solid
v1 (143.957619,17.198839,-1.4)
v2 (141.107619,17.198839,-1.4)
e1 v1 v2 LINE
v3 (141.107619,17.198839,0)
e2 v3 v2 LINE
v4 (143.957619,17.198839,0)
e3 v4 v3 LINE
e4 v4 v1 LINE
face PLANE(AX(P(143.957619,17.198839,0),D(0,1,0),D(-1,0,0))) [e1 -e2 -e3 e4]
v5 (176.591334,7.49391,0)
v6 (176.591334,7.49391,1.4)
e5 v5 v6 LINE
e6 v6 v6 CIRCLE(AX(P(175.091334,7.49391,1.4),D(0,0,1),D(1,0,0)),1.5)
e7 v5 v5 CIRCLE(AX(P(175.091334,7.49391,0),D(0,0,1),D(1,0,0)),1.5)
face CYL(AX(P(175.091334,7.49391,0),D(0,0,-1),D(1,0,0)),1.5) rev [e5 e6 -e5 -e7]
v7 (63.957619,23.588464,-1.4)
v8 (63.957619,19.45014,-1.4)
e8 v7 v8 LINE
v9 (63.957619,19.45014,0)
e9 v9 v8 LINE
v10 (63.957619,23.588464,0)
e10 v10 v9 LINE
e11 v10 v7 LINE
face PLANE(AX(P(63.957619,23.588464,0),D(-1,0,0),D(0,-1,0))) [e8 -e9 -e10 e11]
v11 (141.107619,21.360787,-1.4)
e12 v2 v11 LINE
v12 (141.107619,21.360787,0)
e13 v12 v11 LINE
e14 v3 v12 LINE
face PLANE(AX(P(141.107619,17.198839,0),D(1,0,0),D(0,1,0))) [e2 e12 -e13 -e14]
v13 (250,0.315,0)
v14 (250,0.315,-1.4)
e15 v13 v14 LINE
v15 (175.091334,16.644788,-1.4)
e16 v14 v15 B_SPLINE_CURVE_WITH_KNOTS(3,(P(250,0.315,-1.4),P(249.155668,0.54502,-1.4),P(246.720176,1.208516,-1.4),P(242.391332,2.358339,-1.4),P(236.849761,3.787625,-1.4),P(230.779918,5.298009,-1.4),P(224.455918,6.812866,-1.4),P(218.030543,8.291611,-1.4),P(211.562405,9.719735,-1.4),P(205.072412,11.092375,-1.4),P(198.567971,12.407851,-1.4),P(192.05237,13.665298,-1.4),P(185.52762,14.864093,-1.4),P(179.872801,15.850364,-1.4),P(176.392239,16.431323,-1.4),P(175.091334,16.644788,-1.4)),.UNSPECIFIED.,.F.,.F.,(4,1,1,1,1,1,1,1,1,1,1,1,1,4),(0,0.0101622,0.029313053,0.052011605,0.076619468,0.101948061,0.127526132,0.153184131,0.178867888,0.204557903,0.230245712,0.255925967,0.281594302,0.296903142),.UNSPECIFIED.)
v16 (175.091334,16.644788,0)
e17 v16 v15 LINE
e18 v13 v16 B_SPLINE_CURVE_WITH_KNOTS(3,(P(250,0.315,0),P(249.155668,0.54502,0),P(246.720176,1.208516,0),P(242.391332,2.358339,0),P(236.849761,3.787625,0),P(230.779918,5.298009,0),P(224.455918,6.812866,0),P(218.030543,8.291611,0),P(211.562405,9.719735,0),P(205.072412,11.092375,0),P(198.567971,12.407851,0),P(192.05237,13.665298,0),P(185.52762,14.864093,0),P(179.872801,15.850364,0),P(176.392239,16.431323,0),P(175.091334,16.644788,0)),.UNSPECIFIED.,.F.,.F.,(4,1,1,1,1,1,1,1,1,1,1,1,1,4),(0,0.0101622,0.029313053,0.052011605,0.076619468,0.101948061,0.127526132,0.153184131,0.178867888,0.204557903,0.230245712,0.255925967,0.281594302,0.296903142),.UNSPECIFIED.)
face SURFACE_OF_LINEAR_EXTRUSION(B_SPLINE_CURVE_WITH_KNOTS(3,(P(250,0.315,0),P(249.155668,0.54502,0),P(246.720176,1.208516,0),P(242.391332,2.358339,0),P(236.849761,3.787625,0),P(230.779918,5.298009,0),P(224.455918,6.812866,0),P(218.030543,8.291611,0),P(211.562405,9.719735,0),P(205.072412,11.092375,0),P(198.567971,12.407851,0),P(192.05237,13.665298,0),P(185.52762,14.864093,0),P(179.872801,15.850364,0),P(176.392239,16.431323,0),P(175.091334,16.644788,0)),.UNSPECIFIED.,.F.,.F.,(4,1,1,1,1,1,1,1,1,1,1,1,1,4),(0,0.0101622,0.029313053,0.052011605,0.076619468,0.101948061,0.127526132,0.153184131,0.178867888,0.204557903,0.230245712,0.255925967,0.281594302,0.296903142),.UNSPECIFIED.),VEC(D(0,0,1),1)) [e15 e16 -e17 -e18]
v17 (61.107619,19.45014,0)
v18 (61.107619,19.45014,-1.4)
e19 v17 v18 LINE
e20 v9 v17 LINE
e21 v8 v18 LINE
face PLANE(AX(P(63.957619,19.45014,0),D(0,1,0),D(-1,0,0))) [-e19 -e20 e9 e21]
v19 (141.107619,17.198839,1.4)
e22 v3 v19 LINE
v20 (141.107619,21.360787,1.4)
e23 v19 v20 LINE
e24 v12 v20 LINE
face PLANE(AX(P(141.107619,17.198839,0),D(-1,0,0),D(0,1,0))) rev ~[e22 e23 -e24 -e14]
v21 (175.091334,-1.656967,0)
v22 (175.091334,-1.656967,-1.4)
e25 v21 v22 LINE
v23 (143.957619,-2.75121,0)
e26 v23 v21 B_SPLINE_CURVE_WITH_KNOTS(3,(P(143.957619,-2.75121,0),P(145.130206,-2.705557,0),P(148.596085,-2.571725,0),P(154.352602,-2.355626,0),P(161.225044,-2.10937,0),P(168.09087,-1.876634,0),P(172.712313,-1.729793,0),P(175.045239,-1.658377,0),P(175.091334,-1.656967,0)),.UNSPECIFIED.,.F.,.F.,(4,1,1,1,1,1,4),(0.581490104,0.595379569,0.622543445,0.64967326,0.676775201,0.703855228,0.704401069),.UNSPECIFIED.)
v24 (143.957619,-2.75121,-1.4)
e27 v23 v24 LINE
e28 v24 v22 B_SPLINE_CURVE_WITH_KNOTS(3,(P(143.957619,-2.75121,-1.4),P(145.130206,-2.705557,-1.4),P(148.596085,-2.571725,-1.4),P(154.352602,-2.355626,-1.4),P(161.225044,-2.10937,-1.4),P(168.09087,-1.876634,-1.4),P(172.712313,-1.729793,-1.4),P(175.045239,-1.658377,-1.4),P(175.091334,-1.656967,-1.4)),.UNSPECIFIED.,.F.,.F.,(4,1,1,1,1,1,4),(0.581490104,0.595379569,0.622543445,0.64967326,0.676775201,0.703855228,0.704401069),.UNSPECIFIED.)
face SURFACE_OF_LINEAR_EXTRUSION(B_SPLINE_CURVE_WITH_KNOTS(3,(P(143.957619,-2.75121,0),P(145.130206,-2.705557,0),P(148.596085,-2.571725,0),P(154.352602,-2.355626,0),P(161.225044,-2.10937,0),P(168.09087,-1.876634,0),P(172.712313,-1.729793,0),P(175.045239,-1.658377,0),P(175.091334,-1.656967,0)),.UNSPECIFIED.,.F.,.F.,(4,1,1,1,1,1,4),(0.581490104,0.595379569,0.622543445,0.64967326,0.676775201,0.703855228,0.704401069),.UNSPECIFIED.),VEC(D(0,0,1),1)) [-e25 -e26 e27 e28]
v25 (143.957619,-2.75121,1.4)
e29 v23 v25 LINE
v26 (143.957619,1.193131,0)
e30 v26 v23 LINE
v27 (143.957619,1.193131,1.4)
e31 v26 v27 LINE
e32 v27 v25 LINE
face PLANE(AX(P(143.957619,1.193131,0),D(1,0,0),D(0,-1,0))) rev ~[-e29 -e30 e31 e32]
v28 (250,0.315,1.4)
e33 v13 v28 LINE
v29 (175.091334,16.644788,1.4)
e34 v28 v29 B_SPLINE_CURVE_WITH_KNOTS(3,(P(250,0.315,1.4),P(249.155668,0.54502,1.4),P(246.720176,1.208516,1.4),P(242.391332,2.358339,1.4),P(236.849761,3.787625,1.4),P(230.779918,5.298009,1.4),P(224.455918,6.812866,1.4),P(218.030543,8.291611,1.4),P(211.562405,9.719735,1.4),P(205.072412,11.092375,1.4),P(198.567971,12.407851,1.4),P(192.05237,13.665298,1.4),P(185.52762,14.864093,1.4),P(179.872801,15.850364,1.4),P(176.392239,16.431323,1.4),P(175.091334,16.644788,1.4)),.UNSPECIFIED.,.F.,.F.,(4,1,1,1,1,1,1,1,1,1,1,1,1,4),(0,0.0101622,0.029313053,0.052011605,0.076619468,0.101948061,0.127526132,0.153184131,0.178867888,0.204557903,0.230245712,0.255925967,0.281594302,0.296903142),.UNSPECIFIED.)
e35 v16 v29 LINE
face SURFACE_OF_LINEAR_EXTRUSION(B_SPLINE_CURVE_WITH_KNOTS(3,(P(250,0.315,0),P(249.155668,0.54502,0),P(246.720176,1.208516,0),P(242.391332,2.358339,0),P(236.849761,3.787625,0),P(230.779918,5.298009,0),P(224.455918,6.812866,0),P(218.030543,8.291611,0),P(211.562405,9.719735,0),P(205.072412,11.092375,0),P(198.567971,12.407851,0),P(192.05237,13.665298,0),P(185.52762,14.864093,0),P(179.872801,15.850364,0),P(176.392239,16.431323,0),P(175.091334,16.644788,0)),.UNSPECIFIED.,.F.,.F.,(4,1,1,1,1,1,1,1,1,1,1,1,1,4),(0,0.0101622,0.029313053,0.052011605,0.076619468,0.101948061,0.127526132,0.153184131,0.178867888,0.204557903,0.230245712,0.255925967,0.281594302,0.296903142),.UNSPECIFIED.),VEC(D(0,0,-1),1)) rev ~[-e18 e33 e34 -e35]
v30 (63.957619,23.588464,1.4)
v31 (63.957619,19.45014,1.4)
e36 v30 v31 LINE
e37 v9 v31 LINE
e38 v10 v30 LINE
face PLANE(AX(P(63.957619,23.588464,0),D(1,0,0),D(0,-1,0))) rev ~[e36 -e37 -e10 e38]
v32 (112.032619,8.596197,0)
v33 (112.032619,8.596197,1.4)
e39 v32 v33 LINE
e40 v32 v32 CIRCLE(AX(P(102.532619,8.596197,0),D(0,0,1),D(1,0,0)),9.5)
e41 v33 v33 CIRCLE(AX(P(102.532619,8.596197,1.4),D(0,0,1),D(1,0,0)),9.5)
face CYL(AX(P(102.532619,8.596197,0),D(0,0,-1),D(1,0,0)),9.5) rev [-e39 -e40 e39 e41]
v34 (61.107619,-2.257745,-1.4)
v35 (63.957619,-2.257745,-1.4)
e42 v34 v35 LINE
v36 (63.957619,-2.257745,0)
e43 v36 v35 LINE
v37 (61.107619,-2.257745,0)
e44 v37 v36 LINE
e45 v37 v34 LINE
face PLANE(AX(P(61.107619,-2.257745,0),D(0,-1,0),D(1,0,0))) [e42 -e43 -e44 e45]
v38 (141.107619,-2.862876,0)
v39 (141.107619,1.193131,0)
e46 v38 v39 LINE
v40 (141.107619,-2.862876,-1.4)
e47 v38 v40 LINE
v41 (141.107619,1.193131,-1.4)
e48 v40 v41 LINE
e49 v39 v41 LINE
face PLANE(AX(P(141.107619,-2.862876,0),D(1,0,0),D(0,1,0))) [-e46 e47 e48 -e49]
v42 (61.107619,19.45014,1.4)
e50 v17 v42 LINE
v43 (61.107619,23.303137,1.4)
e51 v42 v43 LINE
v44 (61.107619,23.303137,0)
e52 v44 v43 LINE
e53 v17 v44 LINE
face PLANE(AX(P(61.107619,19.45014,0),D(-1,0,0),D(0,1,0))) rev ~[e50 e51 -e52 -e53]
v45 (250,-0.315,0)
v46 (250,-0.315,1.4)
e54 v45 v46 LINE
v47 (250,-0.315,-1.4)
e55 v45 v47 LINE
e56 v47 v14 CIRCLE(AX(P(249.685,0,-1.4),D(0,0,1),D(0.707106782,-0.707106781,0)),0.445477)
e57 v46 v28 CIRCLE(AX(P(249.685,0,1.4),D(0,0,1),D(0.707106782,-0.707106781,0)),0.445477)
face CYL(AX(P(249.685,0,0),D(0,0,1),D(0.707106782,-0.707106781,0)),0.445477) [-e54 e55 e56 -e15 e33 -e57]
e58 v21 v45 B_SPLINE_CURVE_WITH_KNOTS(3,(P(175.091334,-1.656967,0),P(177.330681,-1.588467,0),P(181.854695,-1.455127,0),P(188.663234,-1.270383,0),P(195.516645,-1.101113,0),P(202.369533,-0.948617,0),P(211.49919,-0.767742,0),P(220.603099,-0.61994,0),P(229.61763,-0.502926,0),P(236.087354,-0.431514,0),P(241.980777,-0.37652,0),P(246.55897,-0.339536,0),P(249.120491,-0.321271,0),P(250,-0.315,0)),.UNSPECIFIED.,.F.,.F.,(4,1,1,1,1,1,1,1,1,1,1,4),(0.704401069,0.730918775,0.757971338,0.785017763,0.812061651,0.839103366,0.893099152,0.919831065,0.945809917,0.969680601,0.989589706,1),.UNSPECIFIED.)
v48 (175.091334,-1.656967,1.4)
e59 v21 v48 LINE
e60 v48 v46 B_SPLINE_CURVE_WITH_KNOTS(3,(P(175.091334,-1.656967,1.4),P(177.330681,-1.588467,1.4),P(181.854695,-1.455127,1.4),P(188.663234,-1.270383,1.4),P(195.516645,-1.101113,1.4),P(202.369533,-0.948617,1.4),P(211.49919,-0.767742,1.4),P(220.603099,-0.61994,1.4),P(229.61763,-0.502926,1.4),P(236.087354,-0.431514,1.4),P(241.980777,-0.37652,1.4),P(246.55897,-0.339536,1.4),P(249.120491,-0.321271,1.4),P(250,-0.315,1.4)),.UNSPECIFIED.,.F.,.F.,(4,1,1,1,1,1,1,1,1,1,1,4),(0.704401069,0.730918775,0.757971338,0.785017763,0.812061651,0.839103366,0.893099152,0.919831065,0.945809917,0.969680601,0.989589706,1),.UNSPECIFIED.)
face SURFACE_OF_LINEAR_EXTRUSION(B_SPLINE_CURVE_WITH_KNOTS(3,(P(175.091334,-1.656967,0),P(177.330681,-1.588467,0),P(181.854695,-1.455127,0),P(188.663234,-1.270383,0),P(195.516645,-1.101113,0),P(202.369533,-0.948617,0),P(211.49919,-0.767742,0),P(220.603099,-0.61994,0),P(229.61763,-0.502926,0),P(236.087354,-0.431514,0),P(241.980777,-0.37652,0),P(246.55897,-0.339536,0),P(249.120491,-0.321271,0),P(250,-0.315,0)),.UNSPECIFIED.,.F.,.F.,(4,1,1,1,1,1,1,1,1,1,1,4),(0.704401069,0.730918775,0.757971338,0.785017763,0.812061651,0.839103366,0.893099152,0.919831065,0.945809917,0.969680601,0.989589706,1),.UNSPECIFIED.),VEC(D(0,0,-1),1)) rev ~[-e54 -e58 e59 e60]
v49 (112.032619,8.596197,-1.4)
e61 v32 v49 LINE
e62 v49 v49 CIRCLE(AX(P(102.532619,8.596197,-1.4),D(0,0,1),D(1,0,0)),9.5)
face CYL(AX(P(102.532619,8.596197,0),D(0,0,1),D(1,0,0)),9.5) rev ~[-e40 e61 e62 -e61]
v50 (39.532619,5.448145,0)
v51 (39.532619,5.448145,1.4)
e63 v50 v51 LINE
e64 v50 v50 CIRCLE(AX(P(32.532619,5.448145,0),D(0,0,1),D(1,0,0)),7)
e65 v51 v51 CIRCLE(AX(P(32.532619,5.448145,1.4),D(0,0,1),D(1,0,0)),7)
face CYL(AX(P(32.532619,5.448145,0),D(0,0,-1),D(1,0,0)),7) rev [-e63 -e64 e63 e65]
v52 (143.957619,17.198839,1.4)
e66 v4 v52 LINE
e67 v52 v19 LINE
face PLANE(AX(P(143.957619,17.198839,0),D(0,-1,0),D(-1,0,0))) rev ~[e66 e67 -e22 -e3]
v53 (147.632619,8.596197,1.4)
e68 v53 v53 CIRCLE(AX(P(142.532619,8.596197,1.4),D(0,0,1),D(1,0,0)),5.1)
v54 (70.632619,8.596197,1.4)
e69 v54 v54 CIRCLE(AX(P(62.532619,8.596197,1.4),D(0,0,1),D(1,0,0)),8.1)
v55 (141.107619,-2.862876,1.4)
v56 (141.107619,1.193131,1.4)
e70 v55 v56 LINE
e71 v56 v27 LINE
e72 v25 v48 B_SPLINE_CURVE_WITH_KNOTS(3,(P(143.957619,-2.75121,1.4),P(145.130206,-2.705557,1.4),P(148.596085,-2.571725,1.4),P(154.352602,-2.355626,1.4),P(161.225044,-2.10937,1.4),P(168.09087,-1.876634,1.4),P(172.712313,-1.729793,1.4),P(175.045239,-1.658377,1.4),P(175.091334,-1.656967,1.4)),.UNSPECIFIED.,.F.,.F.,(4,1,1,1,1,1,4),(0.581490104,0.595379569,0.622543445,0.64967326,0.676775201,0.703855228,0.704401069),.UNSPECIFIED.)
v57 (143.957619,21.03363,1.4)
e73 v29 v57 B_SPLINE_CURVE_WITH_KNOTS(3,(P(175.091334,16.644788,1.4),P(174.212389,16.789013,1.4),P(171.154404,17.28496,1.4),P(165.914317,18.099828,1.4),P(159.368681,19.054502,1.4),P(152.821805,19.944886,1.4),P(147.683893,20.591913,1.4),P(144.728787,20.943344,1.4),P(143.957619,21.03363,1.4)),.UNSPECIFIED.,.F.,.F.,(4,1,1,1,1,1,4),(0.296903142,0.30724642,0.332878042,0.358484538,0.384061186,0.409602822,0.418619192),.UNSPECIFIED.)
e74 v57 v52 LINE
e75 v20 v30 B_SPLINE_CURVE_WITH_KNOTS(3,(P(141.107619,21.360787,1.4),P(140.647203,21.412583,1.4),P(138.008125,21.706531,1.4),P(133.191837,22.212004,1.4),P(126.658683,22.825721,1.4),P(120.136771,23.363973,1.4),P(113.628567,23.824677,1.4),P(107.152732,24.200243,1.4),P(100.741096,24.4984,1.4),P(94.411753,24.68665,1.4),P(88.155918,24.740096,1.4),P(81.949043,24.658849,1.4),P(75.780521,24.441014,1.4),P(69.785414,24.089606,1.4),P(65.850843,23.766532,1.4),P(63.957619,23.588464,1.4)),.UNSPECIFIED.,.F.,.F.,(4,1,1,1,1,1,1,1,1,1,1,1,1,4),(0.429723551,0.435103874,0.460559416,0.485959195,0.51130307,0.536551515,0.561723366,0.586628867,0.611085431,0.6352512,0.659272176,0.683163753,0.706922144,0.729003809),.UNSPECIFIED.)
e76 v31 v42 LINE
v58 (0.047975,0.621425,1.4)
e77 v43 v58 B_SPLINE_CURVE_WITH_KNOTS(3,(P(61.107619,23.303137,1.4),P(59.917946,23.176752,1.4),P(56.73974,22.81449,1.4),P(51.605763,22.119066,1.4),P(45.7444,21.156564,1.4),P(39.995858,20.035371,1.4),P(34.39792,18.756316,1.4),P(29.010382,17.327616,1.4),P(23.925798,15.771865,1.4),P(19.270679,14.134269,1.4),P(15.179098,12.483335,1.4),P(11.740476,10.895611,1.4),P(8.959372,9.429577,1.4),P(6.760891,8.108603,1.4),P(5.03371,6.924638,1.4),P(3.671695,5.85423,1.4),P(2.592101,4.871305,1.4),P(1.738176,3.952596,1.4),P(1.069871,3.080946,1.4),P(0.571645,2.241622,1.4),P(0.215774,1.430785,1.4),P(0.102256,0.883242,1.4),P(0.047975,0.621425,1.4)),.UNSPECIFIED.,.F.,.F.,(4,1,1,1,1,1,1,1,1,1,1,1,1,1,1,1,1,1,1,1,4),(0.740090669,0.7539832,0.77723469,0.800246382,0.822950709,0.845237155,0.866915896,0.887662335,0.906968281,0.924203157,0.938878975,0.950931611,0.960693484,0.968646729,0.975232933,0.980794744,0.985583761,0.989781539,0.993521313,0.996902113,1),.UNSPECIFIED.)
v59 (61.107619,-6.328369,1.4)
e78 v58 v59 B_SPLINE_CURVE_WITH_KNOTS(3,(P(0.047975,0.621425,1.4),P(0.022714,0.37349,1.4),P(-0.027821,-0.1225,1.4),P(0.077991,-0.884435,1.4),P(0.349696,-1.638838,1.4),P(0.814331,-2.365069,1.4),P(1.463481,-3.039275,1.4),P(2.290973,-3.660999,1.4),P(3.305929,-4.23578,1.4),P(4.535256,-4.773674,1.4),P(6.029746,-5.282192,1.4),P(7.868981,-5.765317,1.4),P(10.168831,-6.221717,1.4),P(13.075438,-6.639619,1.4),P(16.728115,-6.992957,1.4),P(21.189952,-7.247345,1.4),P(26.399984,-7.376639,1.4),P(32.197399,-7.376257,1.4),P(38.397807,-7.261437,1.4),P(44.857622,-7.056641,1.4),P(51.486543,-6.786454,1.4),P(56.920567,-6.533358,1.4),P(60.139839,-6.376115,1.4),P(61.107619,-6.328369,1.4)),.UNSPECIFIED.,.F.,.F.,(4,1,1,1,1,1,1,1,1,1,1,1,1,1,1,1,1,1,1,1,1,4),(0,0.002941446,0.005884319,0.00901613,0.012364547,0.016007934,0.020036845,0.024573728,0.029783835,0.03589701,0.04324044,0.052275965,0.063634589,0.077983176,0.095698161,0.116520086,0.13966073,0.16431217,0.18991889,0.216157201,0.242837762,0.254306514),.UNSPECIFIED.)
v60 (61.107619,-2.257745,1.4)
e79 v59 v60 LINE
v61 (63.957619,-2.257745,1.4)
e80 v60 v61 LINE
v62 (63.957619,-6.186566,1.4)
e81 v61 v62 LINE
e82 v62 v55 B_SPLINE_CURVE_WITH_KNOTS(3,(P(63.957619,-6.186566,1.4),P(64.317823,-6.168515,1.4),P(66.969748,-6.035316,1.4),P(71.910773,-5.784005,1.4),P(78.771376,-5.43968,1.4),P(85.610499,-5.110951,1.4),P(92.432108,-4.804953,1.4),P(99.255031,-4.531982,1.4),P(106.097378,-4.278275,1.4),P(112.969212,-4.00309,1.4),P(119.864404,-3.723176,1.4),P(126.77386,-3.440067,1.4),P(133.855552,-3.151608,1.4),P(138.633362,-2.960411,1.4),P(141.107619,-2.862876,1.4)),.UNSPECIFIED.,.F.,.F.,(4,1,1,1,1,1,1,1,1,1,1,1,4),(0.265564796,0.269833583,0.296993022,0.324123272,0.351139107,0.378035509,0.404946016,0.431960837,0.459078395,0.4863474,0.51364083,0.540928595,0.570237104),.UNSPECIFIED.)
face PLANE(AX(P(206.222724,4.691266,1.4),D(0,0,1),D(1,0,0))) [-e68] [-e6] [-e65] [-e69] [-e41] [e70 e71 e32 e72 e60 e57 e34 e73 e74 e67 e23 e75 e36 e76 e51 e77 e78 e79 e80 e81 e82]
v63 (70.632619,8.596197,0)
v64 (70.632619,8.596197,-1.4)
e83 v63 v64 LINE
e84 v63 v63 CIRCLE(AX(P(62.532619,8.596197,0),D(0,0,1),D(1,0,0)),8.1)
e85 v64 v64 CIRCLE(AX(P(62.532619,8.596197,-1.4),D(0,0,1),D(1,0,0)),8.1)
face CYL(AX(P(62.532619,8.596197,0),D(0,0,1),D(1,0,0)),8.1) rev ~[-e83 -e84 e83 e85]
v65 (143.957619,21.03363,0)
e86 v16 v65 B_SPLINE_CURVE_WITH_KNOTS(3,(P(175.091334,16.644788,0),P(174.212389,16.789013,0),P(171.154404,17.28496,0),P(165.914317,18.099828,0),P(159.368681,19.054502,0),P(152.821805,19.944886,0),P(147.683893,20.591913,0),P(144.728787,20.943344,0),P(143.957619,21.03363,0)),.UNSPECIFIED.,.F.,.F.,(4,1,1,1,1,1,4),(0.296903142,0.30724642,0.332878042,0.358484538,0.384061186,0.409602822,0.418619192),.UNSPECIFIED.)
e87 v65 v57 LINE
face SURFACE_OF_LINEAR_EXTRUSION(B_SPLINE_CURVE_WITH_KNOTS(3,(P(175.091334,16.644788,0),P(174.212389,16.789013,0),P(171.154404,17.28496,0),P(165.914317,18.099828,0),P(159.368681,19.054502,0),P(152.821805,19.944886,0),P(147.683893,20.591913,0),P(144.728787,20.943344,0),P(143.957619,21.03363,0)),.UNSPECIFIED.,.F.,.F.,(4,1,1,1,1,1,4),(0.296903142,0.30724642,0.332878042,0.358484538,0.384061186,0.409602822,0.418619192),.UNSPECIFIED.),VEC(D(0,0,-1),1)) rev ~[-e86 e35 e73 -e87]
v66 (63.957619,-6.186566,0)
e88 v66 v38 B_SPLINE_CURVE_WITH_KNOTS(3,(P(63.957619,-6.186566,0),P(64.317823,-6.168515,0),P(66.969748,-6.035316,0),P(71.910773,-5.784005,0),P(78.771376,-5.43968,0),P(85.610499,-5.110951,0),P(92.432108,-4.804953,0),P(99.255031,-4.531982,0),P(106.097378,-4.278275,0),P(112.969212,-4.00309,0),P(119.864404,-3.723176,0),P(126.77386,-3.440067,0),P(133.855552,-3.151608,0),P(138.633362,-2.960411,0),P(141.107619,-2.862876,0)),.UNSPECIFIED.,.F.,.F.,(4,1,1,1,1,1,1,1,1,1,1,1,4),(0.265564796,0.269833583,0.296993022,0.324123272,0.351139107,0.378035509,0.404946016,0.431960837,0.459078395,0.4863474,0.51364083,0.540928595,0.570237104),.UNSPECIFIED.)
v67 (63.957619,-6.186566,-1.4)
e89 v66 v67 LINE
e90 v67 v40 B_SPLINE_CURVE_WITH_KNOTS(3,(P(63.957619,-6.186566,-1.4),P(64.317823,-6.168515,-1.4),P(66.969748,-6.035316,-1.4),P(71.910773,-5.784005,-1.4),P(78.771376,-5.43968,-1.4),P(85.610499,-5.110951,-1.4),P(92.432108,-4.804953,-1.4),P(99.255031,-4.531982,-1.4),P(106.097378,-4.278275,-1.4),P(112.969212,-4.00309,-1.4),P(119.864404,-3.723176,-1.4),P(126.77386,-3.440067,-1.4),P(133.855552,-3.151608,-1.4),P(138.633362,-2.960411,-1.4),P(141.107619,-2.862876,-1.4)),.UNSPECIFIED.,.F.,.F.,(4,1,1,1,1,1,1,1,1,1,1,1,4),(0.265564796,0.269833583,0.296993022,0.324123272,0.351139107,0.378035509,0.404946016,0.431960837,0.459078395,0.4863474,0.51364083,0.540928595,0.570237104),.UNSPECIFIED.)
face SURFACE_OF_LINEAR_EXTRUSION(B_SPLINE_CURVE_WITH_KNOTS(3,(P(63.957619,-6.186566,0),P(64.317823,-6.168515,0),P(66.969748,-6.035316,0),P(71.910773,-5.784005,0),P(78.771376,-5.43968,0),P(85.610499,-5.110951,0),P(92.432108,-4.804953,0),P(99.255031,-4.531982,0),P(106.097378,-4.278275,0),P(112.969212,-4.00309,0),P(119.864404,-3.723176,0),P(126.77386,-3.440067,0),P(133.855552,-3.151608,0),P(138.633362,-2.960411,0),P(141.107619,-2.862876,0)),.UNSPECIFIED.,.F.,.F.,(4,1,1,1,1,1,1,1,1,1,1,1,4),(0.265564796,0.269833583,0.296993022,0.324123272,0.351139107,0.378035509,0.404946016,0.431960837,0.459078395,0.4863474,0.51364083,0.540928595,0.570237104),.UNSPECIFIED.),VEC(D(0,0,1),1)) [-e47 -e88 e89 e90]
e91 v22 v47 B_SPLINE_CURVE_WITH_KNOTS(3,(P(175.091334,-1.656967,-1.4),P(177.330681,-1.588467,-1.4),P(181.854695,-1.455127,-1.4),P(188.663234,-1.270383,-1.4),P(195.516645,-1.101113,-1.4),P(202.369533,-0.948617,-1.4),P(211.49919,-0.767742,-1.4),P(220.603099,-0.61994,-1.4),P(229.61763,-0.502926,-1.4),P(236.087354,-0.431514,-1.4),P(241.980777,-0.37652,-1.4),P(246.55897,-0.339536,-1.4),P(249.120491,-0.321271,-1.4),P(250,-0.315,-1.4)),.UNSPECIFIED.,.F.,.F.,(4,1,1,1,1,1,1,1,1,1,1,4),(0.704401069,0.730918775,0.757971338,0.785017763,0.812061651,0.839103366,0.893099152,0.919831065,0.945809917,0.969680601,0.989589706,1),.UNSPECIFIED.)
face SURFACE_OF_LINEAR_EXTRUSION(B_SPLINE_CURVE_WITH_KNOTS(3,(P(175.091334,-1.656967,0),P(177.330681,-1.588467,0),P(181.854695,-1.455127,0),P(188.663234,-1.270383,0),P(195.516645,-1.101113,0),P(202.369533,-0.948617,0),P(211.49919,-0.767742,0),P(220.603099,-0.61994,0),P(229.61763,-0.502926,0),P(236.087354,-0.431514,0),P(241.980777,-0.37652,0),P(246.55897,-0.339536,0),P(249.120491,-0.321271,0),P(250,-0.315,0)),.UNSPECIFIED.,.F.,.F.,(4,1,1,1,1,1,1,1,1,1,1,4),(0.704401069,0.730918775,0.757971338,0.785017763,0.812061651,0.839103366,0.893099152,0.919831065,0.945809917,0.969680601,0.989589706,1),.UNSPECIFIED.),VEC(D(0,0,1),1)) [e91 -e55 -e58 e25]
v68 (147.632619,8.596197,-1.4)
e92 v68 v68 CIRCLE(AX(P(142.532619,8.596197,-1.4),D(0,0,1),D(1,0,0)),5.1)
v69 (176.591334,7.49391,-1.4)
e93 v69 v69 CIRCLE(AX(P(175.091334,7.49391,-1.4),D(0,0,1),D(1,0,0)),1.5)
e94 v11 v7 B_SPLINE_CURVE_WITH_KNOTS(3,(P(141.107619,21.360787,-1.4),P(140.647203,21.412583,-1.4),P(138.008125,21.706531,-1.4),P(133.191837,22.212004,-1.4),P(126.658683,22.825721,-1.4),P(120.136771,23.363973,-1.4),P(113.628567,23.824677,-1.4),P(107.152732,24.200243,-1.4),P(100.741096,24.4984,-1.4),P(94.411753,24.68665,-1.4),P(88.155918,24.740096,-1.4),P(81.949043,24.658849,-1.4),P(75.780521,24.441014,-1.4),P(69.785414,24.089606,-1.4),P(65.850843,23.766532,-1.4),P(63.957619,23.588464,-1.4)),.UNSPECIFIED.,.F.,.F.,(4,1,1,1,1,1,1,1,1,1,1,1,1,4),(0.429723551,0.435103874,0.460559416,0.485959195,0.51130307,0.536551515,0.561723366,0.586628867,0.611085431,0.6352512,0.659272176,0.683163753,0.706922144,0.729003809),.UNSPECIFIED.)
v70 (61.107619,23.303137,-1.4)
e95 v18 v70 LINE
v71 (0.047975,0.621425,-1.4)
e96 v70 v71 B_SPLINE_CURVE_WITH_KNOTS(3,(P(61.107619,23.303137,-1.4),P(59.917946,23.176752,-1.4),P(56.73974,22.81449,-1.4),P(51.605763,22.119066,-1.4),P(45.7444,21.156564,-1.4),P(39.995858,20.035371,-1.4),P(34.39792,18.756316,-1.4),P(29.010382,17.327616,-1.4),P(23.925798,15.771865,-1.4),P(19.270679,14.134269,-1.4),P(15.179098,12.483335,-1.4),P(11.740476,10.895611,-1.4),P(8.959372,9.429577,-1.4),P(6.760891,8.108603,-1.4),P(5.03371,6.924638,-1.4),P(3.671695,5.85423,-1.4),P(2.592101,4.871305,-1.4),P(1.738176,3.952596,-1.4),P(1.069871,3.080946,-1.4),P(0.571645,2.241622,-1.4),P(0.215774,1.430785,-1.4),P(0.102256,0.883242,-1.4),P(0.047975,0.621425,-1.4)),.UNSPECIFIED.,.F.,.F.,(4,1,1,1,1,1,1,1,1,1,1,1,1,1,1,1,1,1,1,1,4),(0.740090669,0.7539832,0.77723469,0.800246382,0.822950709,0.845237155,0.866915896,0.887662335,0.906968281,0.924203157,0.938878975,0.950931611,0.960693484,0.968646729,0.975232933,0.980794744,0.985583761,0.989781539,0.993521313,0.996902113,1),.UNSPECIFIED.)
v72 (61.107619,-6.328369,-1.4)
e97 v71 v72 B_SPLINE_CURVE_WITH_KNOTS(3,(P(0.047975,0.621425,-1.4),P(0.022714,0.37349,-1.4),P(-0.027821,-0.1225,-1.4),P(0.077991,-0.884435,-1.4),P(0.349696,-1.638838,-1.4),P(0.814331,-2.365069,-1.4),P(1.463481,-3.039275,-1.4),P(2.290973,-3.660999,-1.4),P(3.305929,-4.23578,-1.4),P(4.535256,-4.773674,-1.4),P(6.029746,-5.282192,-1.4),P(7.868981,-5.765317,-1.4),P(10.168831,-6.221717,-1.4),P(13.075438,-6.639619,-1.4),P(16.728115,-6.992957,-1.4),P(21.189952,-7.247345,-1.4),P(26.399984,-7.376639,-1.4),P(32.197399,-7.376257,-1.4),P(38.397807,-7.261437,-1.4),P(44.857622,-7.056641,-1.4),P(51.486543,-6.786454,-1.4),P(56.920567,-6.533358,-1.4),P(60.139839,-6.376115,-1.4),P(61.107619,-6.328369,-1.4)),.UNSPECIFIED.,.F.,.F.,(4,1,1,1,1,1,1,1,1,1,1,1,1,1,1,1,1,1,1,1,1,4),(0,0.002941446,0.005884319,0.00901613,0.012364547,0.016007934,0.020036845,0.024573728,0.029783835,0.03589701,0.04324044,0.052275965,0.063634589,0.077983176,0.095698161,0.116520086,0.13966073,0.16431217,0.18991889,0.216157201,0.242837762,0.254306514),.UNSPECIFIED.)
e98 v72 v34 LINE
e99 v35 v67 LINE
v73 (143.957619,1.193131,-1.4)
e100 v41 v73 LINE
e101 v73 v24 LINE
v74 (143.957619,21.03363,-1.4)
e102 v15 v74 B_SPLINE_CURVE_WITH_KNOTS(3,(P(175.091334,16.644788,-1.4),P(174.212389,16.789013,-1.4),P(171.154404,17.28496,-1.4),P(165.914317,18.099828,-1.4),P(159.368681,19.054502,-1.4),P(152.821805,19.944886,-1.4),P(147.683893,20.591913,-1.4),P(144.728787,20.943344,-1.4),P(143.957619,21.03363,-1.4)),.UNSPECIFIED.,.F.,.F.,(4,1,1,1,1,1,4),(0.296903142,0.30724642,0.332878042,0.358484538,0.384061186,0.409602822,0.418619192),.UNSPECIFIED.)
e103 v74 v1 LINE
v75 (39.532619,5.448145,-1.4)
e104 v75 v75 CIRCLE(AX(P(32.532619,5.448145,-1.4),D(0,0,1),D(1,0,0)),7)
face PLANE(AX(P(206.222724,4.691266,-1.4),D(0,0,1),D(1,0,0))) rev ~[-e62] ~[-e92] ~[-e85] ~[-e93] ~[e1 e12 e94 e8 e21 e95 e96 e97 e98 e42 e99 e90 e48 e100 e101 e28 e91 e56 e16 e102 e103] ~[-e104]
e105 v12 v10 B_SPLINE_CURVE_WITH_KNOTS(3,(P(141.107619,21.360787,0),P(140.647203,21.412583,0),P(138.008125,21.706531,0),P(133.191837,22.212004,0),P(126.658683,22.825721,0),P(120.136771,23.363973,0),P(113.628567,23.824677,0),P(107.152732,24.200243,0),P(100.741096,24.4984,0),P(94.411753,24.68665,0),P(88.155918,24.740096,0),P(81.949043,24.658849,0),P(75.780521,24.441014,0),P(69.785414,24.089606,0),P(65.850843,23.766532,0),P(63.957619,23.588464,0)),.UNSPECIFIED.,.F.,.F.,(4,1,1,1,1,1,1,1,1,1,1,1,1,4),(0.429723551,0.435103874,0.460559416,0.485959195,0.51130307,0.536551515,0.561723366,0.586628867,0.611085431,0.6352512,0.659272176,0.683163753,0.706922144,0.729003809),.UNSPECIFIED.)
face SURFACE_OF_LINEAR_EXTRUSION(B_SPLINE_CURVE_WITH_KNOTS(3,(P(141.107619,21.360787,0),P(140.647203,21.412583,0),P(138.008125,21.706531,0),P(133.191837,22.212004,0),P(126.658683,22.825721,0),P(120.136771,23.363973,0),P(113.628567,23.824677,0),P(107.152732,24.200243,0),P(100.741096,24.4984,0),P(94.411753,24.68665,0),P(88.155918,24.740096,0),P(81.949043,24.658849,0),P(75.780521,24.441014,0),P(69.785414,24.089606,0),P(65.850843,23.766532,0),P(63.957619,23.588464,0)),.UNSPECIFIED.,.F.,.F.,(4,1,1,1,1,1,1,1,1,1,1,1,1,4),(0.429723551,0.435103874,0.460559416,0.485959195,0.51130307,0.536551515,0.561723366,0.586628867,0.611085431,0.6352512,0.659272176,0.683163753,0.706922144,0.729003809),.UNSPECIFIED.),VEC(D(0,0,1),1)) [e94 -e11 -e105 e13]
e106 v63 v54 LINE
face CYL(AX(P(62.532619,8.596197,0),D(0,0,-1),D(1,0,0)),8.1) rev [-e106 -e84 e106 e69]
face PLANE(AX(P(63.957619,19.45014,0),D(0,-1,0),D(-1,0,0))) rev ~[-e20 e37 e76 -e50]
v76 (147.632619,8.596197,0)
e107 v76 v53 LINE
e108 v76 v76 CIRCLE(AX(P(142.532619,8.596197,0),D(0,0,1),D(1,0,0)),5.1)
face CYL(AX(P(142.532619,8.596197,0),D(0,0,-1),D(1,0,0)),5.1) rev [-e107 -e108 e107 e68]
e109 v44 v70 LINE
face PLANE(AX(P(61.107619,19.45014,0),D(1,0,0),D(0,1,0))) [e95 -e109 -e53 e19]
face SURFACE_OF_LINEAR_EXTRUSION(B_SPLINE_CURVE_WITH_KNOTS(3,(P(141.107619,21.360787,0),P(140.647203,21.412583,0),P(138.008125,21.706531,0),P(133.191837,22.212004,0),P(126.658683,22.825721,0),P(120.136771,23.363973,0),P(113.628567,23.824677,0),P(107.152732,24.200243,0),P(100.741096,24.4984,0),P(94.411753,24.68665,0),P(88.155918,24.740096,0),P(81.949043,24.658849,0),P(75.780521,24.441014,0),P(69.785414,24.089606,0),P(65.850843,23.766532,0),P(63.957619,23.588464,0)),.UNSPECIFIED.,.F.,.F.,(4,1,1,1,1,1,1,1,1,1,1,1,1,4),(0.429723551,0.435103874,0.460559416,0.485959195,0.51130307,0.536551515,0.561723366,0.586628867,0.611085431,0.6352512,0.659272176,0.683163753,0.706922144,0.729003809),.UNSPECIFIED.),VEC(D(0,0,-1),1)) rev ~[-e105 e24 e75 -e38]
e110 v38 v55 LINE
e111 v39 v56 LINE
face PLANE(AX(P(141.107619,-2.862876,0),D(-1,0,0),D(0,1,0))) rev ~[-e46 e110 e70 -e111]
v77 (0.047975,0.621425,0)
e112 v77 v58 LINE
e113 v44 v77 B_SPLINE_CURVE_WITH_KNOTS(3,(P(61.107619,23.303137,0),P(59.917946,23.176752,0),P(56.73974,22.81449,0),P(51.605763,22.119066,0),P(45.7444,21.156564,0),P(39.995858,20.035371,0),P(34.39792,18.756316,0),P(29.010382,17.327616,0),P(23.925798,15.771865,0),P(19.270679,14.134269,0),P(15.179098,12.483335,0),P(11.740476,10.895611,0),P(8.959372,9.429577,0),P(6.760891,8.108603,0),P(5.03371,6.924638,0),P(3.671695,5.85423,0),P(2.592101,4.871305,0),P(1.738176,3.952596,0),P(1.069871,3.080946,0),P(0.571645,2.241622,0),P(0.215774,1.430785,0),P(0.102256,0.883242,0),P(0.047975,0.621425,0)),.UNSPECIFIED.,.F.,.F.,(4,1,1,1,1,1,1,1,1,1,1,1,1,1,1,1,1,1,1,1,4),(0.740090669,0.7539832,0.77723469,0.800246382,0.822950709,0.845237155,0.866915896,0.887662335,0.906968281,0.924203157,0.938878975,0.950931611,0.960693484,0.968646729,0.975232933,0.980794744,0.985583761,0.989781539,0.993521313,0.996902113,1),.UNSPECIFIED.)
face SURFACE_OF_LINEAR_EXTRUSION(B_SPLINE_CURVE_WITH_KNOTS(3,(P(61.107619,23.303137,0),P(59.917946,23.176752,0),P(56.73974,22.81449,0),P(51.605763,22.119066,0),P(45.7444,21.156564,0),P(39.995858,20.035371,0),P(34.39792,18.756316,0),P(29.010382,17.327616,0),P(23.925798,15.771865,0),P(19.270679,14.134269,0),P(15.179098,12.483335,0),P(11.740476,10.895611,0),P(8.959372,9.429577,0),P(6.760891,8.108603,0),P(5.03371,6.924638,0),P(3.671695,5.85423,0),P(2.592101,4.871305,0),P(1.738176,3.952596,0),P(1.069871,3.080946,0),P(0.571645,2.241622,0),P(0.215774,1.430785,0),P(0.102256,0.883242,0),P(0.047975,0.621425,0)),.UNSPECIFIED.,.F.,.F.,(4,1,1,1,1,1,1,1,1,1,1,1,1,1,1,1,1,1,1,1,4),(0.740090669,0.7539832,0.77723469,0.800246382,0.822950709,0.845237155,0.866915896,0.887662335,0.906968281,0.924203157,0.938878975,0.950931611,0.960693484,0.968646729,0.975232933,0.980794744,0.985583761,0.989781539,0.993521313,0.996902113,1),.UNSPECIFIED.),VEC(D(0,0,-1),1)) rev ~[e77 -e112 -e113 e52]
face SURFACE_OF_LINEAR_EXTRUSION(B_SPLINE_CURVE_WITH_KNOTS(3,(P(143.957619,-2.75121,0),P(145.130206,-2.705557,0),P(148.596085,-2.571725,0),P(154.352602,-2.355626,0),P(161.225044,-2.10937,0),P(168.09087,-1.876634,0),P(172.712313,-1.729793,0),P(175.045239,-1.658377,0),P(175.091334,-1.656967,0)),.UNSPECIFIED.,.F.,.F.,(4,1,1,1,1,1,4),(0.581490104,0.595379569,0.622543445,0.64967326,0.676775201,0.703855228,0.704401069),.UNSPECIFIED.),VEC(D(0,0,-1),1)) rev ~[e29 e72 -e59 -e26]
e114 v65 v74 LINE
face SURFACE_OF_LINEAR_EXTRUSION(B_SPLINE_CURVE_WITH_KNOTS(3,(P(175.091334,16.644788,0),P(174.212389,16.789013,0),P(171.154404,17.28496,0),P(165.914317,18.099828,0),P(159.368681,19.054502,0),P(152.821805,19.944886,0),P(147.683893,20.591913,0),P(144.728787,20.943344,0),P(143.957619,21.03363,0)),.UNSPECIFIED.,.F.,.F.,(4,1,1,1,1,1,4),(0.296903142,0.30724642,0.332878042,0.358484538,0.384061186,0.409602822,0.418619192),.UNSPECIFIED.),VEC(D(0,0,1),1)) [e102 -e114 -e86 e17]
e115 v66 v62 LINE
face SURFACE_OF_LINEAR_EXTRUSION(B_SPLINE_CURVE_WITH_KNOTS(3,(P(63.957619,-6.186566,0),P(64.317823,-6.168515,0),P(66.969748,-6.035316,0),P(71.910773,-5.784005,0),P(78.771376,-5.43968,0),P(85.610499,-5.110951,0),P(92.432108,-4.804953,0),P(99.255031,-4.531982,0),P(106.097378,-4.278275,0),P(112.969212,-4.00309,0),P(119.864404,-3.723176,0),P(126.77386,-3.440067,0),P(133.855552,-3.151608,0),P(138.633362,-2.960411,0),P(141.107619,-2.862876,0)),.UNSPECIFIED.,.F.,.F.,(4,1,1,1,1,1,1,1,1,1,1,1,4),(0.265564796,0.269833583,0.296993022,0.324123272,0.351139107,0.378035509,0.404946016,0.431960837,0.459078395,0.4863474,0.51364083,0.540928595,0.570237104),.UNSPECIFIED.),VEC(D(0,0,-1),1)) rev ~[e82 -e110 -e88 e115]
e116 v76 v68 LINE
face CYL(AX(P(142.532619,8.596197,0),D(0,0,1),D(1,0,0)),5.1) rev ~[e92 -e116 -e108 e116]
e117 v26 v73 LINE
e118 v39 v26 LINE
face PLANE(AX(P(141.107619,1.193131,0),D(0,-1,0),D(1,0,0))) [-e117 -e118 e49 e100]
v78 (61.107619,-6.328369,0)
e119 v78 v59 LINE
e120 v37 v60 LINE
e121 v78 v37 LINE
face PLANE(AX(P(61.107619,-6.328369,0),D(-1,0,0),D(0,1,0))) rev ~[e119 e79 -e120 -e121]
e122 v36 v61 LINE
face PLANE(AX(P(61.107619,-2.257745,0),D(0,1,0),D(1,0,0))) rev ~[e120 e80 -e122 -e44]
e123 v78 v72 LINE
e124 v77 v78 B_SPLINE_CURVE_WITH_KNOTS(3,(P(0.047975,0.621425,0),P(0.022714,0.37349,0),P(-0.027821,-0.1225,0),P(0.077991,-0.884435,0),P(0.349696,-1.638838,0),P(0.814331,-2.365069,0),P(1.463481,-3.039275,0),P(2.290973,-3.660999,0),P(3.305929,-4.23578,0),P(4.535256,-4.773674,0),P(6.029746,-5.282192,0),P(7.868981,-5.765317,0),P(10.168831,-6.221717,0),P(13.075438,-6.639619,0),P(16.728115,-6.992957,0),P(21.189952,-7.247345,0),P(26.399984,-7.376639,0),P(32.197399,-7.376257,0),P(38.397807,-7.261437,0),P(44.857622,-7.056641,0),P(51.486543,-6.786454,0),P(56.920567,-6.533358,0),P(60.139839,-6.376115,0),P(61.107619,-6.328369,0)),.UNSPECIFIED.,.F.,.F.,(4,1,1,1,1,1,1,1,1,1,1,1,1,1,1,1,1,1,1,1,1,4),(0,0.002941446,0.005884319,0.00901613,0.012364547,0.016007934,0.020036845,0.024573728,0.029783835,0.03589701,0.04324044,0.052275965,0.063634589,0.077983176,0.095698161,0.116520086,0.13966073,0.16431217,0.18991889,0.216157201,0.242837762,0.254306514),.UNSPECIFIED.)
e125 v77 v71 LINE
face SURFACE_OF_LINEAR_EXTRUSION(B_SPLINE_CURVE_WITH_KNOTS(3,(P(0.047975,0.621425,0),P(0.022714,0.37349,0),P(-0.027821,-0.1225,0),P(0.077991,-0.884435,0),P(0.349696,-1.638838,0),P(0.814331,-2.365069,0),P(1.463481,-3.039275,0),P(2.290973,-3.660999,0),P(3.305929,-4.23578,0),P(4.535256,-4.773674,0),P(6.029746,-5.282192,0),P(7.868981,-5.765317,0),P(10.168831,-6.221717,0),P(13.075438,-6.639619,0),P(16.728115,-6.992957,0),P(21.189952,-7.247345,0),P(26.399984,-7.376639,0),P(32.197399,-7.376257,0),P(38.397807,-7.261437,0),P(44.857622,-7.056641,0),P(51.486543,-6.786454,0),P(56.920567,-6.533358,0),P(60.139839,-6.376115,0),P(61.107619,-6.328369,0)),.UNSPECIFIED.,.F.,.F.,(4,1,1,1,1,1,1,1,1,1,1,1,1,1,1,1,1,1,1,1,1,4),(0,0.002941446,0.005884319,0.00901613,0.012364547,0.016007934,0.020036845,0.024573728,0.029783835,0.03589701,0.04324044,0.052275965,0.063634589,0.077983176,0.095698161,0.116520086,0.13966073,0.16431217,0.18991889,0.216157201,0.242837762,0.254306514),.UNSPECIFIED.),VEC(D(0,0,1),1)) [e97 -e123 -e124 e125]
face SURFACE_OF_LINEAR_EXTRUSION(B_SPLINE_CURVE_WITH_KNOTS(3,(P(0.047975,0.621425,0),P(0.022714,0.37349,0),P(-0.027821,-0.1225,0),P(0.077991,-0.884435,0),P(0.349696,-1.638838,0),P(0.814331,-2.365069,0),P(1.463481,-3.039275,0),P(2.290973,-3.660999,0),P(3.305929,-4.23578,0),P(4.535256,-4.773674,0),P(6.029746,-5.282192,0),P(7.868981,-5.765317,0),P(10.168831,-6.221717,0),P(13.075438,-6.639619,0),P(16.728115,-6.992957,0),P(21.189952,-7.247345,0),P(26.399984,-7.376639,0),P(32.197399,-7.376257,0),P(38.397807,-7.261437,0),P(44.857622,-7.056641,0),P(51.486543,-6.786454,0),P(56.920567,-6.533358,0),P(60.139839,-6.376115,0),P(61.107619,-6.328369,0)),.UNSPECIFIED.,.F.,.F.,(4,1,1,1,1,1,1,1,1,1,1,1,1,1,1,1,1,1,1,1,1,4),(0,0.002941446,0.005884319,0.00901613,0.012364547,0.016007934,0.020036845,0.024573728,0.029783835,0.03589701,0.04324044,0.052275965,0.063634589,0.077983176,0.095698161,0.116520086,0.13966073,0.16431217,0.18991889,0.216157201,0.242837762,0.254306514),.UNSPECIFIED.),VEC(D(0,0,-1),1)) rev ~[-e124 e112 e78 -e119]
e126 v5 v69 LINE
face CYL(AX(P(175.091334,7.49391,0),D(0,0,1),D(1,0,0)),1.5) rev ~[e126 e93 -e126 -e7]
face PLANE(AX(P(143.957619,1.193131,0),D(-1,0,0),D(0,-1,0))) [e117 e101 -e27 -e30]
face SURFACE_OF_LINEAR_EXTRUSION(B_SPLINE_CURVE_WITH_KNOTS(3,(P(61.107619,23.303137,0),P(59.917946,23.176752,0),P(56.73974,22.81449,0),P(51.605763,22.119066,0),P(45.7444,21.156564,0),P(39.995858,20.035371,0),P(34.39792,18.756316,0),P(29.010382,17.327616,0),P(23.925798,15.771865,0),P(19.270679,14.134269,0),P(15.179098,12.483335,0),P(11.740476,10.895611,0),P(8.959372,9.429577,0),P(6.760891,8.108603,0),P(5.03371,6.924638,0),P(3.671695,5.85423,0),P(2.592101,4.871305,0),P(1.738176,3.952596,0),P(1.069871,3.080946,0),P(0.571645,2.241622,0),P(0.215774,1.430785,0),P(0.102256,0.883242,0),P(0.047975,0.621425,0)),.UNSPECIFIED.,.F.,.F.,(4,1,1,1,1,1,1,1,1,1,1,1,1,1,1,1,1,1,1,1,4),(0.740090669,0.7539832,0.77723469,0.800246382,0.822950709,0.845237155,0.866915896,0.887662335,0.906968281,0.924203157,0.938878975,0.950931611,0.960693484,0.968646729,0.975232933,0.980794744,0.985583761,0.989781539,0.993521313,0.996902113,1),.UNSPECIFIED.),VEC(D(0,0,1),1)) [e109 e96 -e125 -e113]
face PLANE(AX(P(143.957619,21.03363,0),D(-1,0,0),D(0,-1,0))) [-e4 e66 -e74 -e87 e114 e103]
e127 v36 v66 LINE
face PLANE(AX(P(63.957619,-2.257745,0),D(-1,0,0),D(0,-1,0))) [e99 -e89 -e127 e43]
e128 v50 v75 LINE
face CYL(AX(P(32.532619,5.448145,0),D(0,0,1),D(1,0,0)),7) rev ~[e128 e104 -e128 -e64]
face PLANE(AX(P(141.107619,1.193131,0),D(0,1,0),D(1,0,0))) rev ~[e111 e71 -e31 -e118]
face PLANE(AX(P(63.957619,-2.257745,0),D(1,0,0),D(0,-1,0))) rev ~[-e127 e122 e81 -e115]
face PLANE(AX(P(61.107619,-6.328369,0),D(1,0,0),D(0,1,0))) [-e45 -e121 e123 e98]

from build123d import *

# Parameters (mm, degrees)
SKETCH_1_R      = 7
SKETCH_1_R_2    = 8.1
SKETCH_1_R_3    = 9.5
SKETCH_1_R_4    = 5.1
SKETCH_1_R_5    = 1.5
EXTRUDE_1_DEPTH = 1.4


with BuildPart() as part:
    # Эскиз1 → Бобышка-Вытянуть1 (new, symmetric)
    # profile 1 of 2: a face of its own
    with BuildSketch(Plane.XY):
        with BuildLine():
            Line((63.957619318, 19.450139662), (61.107619318, 19.450139662))
            Line((61.107619318, 19.450139662), (61.107619318, 23.303137173))
            add(Edge.make_bspline(
                [(61.107619318, 23.303137173), (59.917945614, 23.176751945), (56.739740439, 22.81448979), (51.605762688, 22.119065522), (45.744400311, 21.156564432), (39.995857594, 20.03537139), (34.397919842, 18.756316235), (29.010382103, 17.327615608), (23.925798408, 15.771864922), (19.27067884, 14.134269435), (15.179098391, 12.483335438), (11.74047579, 10.895610996), (8.959371869, 9.429577366), (6.76089118, 8.1086032), (5.033709748, 6.924638056), (3.671694933, 5.854229665), (2.592101123, 4.871305369), (1.738175668, 3.952595744), (1.06987083, 3.080946374), (0.57164541, 2.241622103), (0.215773899, 1.430785398), (0.102255581, 0.883241695), (0.047975, 0.621425001)],
                knots=[0.740090669, 0.740090669, 0.740090669, 0.740090669, 0.7539832, 0.77723469, 0.800246382, 0.822950709, 0.845237155, 0.866915896, 0.887662335, 0.906968281, 0.924203157, 0.938878975, 0.950931611, 0.960693484, 0.968646729, 0.975232933, 0.980794744, 0.985583761, 0.989781539, 0.993521313, 0.996902113, 1, 1, 1, 1], degree=3))
            add(Edge.make_bspline(
                [(0.047975, 0.621425001), (0.02271382, 0.373490086), (-0.027820789, -0.122499974), (0.077991212, -0.884434589), (0.34969565, -1.63883807), (0.814331135, -2.365068923), (1.46348078, -3.039275244), (2.290973016, -3.660999469), (3.30592875, -4.23577962), (4.535255619, -4.773674143), (6.029745688, -5.282192164), (7.868981215, -5.765316676), (10.168831391, -6.221716592), (13.075438188, -6.63961873), (16.728115362, -6.992956737), (21.189952096, -7.247345144), (26.399984415, -7.376638848), (32.197398564, -7.376256913), (38.397806759, -7.261436579), (44.857621768, -7.056641358), (51.486543096, -6.786453532), (56.920566709, -6.533358441), (60.139839208, -6.376114839), (61.107619318, -6.32836923)],
                knots=[0, 0, 0, 0, 0.002941446, 0.005884319, 0.00901613, 0.012364547, 0.016007934, 0.020036845, 0.024573728, 0.029783835, 0.03589701, 0.04324044, 0.052275965, 0.063634589, 0.077983176, 0.095698161, 0.116520086, 0.13966073, 0.16431217, 0.18991889, 0.216157201, 0.242837762, 0.254306514, 0.254306514, 0.254306514, 0.254306514], degree=3))
            Line((61.107619318, -6.32836923), (61.107619318, -2.257745247))
            Line((61.107619318, -2.257745247), (63.957619318, -2.257745247))
            Line((63.957619318, -2.257745247), (63.957619318, -6.186566126))
            add(Edge.make_bspline(
                [(63.957619318, -6.186566126), (64.317823095, -6.168514758), (66.969747676, -6.035316313), (71.910772709, -5.784005174), (78.771375576, -5.439680449), (85.610498609, -5.110951246), (92.432107589, -4.804953317), (99.25503119, -4.531981644), (106.097378404, -4.278274658), (112.96921168, -4.00308991), (119.864404254, -3.723176166), (126.773860473, -3.440067276), (133.855552455, -3.151608468), (138.633361552, -2.960411351), (141.107619318, -2.86287629)],
                knots=[0.265564796, 0.265564796, 0.265564796, 0.265564796, 0.269833583, 0.296993022, 0.324123272, 0.351139107, 0.378035509, 0.404946016, 0.431960837, 0.459078395, 0.4863474, 0.51364083, 0.540928595, 0.570237104, 0.570237104, 0.570237104, 0.570237104], degree=3))
            Line((141.107619318, -2.86287629), (141.107619318, 1.193130543))
            Line((141.107619318, 1.193130543), (143.957619318, 1.193130543))
            Line((143.957619318, 1.193130543), (143.957619318, -2.751209627))
            add(Edge.make_bspline(
                [(143.957619318, -2.751209627), (145.13020609, -2.705557458), (148.596084852, -2.571725453), (154.352602411, -2.355626415), (161.225044134, -2.109369921), (168.090869746, -1.876634074), (172.712313278, -1.729793129), (175.045239361, -1.65837681), (175.091334091, -1.656966802)],
                knots=[0.581490104, 0.581490104, 0.581490104, 0.581490104, 0.595379569, 0.622543445, 0.64967326, 0.676775201, 0.703855228, 0.704401069, 0.704401069, 0.704401069, 0.704401069], degree=3))
            ThreePointArc((175.091334091, -1.656966802), (165.940456932, 7.493910357), (175.091334091, 16.644787515))
            add(Edge.make_bspline(
                [(175.091334091, 16.644787515), (174.212389388, 16.789012775), (171.154404183, 17.284960287), (165.914317095, 18.099827841), (159.368680729, 19.054501815), (152.821805128, 19.944885603), (147.683892721, 20.591912914), (144.728786809, 20.943344409), (143.957619318, 21.033629847)],
                knots=[0.296903142, 0.296903142, 0.296903142, 0.296903142, 0.30724642, 0.332878042, 0.358484538, 0.384061186, 0.409602822, 0.418619192, 0.418619192, 0.418619192, 0.418619192], degree=3))
            Line((143.957619318, 21.033629847), (143.957619318, 17.19883932))
            Line((143.957619318, 17.19883932), (141.107619318, 17.19883932))
            Line((141.107619318, 17.19883932), (141.107619318, 21.360787161))
            add(Edge.make_bspline(
                [(141.107619318, 21.360787161), (140.647203073, 21.412583326), (138.008124909, 21.706530989), (133.19183673, 22.212004255), (126.658683026, 22.825721434), (120.136770918, 23.363973271), (113.62856714, 23.824677329), (107.152732037, 24.200242598), (100.741095693, 24.498399513), (94.411752715, 24.686649771), (88.155917993, 24.740095652), (81.949043055, 24.658849145), (75.780520591, 24.441013809), (69.785413798, 24.089605746), (65.850842722, 23.766532071), (63.957619318, 23.588464287)],
                knots=[0.429723551, 0.429723551, 0.429723551, 0.429723551, 0.435103874, 0.460559416, 0.485959195, 0.51130307, 0.536551515, 0.561723366, 0.586628867, 0.611085431, 0.6352512, 0.659272176, 0.683163753, 0.706922144, 0.729003809, 0.729003809, 0.729003809, 0.729003809], degree=3))
            Line((63.957619318, 23.588464287), (63.957619318, 19.450139662))
        make_face()
        with Locations((32.532619318, 5.448144701)):
            Circle(SKETCH_1_R, mode=Mode.SUBTRACT)
        with Locations((62.532619318, 8.596197208)):
            Circle(SKETCH_1_R_2, mode=Mode.SUBTRACT)
        with Locations((102.532619318, 8.596197208)):
            Circle(SKETCH_1_R_3, mode=Mode.SUBTRACT)
        with Locations((142.532619318, 8.596197208)):
            Circle(SKETCH_1_R_4, mode=Mode.SUBTRACT)
    # profile 2 of 2: a face of its own
    with BuildSketch(Plane.XY):
        with BuildLine():
            add(Edge.make_bspline(
                [(250, 0.315), (249.15566774, 0.545019818), (246.720175698, 1.208516243), (242.391332083, 2.358339053), (236.849761204, 3.787625364), (230.779918279, 5.298008837), (224.455917947, 6.812866028), (218.030543496, 8.291610632), (211.562405045, 9.719735057), (205.072411509, 11.092374932), (198.567970913, 12.407850726), (192.052369914, 13.665297924), (185.527619973, 14.864093303), (179.872800983, 15.850364437), (176.392239334, 16.431323122), (175.091334091, 16.644787515)],
                knots=[0, 0, 0, 0, 0.0101622, 0.029313053, 0.052011605, 0.076619468, 0.101948061, 0.127526132, 0.153184131, 0.178867888, 0.204557903, 0.230245712, 0.255925967, 0.281594302, 0.296903142, 0.296903142, 0.296903142, 0.296903142], degree=3))
            ThreePointArc((175.091334091, 16.644787515), (165.940456932, 7.493910357), (175.091334091, -1.656966802))
            add(Edge.make_bspline(
                [(175.091334091, -1.656966802), (177.330680613, -1.588466601), (181.854695323, -1.455127256), (188.663234462, -1.270383377), (195.516645168, -1.101112884), (202.369532894, -0.948617189), (211.49919029, -0.767742353), (220.603098666, -0.619939742), (229.617630172, -0.50292618), (236.087353854, -0.431514192), (241.980776913, -0.376520461), (246.558970011, -0.339535886), (249.120490965, -0.321271242), (250, -0.315)],
                knots=[0.704401069, 0.704401069, 0.704401069, 0.704401069, 0.730918775, 0.757971338, 0.785017763, 0.812061651, 0.839103366, 0.893099152, 0.919831065, 0.945809917, 0.969680601, 0.989589706, 1, 1, 1, 1], degree=3))
            ThreePointArc((250, -0.315), (250.130477272, 0), (250, 0.315))
        make_face()
        with Locations((175.091334091, 7.493910357)):
            Circle(SKETCH_1_R_5, mode=Mode.SUBTRACT)
    extrude(amount=EXTRUDE_1_DEPTH, both=True)


solid = part.part
